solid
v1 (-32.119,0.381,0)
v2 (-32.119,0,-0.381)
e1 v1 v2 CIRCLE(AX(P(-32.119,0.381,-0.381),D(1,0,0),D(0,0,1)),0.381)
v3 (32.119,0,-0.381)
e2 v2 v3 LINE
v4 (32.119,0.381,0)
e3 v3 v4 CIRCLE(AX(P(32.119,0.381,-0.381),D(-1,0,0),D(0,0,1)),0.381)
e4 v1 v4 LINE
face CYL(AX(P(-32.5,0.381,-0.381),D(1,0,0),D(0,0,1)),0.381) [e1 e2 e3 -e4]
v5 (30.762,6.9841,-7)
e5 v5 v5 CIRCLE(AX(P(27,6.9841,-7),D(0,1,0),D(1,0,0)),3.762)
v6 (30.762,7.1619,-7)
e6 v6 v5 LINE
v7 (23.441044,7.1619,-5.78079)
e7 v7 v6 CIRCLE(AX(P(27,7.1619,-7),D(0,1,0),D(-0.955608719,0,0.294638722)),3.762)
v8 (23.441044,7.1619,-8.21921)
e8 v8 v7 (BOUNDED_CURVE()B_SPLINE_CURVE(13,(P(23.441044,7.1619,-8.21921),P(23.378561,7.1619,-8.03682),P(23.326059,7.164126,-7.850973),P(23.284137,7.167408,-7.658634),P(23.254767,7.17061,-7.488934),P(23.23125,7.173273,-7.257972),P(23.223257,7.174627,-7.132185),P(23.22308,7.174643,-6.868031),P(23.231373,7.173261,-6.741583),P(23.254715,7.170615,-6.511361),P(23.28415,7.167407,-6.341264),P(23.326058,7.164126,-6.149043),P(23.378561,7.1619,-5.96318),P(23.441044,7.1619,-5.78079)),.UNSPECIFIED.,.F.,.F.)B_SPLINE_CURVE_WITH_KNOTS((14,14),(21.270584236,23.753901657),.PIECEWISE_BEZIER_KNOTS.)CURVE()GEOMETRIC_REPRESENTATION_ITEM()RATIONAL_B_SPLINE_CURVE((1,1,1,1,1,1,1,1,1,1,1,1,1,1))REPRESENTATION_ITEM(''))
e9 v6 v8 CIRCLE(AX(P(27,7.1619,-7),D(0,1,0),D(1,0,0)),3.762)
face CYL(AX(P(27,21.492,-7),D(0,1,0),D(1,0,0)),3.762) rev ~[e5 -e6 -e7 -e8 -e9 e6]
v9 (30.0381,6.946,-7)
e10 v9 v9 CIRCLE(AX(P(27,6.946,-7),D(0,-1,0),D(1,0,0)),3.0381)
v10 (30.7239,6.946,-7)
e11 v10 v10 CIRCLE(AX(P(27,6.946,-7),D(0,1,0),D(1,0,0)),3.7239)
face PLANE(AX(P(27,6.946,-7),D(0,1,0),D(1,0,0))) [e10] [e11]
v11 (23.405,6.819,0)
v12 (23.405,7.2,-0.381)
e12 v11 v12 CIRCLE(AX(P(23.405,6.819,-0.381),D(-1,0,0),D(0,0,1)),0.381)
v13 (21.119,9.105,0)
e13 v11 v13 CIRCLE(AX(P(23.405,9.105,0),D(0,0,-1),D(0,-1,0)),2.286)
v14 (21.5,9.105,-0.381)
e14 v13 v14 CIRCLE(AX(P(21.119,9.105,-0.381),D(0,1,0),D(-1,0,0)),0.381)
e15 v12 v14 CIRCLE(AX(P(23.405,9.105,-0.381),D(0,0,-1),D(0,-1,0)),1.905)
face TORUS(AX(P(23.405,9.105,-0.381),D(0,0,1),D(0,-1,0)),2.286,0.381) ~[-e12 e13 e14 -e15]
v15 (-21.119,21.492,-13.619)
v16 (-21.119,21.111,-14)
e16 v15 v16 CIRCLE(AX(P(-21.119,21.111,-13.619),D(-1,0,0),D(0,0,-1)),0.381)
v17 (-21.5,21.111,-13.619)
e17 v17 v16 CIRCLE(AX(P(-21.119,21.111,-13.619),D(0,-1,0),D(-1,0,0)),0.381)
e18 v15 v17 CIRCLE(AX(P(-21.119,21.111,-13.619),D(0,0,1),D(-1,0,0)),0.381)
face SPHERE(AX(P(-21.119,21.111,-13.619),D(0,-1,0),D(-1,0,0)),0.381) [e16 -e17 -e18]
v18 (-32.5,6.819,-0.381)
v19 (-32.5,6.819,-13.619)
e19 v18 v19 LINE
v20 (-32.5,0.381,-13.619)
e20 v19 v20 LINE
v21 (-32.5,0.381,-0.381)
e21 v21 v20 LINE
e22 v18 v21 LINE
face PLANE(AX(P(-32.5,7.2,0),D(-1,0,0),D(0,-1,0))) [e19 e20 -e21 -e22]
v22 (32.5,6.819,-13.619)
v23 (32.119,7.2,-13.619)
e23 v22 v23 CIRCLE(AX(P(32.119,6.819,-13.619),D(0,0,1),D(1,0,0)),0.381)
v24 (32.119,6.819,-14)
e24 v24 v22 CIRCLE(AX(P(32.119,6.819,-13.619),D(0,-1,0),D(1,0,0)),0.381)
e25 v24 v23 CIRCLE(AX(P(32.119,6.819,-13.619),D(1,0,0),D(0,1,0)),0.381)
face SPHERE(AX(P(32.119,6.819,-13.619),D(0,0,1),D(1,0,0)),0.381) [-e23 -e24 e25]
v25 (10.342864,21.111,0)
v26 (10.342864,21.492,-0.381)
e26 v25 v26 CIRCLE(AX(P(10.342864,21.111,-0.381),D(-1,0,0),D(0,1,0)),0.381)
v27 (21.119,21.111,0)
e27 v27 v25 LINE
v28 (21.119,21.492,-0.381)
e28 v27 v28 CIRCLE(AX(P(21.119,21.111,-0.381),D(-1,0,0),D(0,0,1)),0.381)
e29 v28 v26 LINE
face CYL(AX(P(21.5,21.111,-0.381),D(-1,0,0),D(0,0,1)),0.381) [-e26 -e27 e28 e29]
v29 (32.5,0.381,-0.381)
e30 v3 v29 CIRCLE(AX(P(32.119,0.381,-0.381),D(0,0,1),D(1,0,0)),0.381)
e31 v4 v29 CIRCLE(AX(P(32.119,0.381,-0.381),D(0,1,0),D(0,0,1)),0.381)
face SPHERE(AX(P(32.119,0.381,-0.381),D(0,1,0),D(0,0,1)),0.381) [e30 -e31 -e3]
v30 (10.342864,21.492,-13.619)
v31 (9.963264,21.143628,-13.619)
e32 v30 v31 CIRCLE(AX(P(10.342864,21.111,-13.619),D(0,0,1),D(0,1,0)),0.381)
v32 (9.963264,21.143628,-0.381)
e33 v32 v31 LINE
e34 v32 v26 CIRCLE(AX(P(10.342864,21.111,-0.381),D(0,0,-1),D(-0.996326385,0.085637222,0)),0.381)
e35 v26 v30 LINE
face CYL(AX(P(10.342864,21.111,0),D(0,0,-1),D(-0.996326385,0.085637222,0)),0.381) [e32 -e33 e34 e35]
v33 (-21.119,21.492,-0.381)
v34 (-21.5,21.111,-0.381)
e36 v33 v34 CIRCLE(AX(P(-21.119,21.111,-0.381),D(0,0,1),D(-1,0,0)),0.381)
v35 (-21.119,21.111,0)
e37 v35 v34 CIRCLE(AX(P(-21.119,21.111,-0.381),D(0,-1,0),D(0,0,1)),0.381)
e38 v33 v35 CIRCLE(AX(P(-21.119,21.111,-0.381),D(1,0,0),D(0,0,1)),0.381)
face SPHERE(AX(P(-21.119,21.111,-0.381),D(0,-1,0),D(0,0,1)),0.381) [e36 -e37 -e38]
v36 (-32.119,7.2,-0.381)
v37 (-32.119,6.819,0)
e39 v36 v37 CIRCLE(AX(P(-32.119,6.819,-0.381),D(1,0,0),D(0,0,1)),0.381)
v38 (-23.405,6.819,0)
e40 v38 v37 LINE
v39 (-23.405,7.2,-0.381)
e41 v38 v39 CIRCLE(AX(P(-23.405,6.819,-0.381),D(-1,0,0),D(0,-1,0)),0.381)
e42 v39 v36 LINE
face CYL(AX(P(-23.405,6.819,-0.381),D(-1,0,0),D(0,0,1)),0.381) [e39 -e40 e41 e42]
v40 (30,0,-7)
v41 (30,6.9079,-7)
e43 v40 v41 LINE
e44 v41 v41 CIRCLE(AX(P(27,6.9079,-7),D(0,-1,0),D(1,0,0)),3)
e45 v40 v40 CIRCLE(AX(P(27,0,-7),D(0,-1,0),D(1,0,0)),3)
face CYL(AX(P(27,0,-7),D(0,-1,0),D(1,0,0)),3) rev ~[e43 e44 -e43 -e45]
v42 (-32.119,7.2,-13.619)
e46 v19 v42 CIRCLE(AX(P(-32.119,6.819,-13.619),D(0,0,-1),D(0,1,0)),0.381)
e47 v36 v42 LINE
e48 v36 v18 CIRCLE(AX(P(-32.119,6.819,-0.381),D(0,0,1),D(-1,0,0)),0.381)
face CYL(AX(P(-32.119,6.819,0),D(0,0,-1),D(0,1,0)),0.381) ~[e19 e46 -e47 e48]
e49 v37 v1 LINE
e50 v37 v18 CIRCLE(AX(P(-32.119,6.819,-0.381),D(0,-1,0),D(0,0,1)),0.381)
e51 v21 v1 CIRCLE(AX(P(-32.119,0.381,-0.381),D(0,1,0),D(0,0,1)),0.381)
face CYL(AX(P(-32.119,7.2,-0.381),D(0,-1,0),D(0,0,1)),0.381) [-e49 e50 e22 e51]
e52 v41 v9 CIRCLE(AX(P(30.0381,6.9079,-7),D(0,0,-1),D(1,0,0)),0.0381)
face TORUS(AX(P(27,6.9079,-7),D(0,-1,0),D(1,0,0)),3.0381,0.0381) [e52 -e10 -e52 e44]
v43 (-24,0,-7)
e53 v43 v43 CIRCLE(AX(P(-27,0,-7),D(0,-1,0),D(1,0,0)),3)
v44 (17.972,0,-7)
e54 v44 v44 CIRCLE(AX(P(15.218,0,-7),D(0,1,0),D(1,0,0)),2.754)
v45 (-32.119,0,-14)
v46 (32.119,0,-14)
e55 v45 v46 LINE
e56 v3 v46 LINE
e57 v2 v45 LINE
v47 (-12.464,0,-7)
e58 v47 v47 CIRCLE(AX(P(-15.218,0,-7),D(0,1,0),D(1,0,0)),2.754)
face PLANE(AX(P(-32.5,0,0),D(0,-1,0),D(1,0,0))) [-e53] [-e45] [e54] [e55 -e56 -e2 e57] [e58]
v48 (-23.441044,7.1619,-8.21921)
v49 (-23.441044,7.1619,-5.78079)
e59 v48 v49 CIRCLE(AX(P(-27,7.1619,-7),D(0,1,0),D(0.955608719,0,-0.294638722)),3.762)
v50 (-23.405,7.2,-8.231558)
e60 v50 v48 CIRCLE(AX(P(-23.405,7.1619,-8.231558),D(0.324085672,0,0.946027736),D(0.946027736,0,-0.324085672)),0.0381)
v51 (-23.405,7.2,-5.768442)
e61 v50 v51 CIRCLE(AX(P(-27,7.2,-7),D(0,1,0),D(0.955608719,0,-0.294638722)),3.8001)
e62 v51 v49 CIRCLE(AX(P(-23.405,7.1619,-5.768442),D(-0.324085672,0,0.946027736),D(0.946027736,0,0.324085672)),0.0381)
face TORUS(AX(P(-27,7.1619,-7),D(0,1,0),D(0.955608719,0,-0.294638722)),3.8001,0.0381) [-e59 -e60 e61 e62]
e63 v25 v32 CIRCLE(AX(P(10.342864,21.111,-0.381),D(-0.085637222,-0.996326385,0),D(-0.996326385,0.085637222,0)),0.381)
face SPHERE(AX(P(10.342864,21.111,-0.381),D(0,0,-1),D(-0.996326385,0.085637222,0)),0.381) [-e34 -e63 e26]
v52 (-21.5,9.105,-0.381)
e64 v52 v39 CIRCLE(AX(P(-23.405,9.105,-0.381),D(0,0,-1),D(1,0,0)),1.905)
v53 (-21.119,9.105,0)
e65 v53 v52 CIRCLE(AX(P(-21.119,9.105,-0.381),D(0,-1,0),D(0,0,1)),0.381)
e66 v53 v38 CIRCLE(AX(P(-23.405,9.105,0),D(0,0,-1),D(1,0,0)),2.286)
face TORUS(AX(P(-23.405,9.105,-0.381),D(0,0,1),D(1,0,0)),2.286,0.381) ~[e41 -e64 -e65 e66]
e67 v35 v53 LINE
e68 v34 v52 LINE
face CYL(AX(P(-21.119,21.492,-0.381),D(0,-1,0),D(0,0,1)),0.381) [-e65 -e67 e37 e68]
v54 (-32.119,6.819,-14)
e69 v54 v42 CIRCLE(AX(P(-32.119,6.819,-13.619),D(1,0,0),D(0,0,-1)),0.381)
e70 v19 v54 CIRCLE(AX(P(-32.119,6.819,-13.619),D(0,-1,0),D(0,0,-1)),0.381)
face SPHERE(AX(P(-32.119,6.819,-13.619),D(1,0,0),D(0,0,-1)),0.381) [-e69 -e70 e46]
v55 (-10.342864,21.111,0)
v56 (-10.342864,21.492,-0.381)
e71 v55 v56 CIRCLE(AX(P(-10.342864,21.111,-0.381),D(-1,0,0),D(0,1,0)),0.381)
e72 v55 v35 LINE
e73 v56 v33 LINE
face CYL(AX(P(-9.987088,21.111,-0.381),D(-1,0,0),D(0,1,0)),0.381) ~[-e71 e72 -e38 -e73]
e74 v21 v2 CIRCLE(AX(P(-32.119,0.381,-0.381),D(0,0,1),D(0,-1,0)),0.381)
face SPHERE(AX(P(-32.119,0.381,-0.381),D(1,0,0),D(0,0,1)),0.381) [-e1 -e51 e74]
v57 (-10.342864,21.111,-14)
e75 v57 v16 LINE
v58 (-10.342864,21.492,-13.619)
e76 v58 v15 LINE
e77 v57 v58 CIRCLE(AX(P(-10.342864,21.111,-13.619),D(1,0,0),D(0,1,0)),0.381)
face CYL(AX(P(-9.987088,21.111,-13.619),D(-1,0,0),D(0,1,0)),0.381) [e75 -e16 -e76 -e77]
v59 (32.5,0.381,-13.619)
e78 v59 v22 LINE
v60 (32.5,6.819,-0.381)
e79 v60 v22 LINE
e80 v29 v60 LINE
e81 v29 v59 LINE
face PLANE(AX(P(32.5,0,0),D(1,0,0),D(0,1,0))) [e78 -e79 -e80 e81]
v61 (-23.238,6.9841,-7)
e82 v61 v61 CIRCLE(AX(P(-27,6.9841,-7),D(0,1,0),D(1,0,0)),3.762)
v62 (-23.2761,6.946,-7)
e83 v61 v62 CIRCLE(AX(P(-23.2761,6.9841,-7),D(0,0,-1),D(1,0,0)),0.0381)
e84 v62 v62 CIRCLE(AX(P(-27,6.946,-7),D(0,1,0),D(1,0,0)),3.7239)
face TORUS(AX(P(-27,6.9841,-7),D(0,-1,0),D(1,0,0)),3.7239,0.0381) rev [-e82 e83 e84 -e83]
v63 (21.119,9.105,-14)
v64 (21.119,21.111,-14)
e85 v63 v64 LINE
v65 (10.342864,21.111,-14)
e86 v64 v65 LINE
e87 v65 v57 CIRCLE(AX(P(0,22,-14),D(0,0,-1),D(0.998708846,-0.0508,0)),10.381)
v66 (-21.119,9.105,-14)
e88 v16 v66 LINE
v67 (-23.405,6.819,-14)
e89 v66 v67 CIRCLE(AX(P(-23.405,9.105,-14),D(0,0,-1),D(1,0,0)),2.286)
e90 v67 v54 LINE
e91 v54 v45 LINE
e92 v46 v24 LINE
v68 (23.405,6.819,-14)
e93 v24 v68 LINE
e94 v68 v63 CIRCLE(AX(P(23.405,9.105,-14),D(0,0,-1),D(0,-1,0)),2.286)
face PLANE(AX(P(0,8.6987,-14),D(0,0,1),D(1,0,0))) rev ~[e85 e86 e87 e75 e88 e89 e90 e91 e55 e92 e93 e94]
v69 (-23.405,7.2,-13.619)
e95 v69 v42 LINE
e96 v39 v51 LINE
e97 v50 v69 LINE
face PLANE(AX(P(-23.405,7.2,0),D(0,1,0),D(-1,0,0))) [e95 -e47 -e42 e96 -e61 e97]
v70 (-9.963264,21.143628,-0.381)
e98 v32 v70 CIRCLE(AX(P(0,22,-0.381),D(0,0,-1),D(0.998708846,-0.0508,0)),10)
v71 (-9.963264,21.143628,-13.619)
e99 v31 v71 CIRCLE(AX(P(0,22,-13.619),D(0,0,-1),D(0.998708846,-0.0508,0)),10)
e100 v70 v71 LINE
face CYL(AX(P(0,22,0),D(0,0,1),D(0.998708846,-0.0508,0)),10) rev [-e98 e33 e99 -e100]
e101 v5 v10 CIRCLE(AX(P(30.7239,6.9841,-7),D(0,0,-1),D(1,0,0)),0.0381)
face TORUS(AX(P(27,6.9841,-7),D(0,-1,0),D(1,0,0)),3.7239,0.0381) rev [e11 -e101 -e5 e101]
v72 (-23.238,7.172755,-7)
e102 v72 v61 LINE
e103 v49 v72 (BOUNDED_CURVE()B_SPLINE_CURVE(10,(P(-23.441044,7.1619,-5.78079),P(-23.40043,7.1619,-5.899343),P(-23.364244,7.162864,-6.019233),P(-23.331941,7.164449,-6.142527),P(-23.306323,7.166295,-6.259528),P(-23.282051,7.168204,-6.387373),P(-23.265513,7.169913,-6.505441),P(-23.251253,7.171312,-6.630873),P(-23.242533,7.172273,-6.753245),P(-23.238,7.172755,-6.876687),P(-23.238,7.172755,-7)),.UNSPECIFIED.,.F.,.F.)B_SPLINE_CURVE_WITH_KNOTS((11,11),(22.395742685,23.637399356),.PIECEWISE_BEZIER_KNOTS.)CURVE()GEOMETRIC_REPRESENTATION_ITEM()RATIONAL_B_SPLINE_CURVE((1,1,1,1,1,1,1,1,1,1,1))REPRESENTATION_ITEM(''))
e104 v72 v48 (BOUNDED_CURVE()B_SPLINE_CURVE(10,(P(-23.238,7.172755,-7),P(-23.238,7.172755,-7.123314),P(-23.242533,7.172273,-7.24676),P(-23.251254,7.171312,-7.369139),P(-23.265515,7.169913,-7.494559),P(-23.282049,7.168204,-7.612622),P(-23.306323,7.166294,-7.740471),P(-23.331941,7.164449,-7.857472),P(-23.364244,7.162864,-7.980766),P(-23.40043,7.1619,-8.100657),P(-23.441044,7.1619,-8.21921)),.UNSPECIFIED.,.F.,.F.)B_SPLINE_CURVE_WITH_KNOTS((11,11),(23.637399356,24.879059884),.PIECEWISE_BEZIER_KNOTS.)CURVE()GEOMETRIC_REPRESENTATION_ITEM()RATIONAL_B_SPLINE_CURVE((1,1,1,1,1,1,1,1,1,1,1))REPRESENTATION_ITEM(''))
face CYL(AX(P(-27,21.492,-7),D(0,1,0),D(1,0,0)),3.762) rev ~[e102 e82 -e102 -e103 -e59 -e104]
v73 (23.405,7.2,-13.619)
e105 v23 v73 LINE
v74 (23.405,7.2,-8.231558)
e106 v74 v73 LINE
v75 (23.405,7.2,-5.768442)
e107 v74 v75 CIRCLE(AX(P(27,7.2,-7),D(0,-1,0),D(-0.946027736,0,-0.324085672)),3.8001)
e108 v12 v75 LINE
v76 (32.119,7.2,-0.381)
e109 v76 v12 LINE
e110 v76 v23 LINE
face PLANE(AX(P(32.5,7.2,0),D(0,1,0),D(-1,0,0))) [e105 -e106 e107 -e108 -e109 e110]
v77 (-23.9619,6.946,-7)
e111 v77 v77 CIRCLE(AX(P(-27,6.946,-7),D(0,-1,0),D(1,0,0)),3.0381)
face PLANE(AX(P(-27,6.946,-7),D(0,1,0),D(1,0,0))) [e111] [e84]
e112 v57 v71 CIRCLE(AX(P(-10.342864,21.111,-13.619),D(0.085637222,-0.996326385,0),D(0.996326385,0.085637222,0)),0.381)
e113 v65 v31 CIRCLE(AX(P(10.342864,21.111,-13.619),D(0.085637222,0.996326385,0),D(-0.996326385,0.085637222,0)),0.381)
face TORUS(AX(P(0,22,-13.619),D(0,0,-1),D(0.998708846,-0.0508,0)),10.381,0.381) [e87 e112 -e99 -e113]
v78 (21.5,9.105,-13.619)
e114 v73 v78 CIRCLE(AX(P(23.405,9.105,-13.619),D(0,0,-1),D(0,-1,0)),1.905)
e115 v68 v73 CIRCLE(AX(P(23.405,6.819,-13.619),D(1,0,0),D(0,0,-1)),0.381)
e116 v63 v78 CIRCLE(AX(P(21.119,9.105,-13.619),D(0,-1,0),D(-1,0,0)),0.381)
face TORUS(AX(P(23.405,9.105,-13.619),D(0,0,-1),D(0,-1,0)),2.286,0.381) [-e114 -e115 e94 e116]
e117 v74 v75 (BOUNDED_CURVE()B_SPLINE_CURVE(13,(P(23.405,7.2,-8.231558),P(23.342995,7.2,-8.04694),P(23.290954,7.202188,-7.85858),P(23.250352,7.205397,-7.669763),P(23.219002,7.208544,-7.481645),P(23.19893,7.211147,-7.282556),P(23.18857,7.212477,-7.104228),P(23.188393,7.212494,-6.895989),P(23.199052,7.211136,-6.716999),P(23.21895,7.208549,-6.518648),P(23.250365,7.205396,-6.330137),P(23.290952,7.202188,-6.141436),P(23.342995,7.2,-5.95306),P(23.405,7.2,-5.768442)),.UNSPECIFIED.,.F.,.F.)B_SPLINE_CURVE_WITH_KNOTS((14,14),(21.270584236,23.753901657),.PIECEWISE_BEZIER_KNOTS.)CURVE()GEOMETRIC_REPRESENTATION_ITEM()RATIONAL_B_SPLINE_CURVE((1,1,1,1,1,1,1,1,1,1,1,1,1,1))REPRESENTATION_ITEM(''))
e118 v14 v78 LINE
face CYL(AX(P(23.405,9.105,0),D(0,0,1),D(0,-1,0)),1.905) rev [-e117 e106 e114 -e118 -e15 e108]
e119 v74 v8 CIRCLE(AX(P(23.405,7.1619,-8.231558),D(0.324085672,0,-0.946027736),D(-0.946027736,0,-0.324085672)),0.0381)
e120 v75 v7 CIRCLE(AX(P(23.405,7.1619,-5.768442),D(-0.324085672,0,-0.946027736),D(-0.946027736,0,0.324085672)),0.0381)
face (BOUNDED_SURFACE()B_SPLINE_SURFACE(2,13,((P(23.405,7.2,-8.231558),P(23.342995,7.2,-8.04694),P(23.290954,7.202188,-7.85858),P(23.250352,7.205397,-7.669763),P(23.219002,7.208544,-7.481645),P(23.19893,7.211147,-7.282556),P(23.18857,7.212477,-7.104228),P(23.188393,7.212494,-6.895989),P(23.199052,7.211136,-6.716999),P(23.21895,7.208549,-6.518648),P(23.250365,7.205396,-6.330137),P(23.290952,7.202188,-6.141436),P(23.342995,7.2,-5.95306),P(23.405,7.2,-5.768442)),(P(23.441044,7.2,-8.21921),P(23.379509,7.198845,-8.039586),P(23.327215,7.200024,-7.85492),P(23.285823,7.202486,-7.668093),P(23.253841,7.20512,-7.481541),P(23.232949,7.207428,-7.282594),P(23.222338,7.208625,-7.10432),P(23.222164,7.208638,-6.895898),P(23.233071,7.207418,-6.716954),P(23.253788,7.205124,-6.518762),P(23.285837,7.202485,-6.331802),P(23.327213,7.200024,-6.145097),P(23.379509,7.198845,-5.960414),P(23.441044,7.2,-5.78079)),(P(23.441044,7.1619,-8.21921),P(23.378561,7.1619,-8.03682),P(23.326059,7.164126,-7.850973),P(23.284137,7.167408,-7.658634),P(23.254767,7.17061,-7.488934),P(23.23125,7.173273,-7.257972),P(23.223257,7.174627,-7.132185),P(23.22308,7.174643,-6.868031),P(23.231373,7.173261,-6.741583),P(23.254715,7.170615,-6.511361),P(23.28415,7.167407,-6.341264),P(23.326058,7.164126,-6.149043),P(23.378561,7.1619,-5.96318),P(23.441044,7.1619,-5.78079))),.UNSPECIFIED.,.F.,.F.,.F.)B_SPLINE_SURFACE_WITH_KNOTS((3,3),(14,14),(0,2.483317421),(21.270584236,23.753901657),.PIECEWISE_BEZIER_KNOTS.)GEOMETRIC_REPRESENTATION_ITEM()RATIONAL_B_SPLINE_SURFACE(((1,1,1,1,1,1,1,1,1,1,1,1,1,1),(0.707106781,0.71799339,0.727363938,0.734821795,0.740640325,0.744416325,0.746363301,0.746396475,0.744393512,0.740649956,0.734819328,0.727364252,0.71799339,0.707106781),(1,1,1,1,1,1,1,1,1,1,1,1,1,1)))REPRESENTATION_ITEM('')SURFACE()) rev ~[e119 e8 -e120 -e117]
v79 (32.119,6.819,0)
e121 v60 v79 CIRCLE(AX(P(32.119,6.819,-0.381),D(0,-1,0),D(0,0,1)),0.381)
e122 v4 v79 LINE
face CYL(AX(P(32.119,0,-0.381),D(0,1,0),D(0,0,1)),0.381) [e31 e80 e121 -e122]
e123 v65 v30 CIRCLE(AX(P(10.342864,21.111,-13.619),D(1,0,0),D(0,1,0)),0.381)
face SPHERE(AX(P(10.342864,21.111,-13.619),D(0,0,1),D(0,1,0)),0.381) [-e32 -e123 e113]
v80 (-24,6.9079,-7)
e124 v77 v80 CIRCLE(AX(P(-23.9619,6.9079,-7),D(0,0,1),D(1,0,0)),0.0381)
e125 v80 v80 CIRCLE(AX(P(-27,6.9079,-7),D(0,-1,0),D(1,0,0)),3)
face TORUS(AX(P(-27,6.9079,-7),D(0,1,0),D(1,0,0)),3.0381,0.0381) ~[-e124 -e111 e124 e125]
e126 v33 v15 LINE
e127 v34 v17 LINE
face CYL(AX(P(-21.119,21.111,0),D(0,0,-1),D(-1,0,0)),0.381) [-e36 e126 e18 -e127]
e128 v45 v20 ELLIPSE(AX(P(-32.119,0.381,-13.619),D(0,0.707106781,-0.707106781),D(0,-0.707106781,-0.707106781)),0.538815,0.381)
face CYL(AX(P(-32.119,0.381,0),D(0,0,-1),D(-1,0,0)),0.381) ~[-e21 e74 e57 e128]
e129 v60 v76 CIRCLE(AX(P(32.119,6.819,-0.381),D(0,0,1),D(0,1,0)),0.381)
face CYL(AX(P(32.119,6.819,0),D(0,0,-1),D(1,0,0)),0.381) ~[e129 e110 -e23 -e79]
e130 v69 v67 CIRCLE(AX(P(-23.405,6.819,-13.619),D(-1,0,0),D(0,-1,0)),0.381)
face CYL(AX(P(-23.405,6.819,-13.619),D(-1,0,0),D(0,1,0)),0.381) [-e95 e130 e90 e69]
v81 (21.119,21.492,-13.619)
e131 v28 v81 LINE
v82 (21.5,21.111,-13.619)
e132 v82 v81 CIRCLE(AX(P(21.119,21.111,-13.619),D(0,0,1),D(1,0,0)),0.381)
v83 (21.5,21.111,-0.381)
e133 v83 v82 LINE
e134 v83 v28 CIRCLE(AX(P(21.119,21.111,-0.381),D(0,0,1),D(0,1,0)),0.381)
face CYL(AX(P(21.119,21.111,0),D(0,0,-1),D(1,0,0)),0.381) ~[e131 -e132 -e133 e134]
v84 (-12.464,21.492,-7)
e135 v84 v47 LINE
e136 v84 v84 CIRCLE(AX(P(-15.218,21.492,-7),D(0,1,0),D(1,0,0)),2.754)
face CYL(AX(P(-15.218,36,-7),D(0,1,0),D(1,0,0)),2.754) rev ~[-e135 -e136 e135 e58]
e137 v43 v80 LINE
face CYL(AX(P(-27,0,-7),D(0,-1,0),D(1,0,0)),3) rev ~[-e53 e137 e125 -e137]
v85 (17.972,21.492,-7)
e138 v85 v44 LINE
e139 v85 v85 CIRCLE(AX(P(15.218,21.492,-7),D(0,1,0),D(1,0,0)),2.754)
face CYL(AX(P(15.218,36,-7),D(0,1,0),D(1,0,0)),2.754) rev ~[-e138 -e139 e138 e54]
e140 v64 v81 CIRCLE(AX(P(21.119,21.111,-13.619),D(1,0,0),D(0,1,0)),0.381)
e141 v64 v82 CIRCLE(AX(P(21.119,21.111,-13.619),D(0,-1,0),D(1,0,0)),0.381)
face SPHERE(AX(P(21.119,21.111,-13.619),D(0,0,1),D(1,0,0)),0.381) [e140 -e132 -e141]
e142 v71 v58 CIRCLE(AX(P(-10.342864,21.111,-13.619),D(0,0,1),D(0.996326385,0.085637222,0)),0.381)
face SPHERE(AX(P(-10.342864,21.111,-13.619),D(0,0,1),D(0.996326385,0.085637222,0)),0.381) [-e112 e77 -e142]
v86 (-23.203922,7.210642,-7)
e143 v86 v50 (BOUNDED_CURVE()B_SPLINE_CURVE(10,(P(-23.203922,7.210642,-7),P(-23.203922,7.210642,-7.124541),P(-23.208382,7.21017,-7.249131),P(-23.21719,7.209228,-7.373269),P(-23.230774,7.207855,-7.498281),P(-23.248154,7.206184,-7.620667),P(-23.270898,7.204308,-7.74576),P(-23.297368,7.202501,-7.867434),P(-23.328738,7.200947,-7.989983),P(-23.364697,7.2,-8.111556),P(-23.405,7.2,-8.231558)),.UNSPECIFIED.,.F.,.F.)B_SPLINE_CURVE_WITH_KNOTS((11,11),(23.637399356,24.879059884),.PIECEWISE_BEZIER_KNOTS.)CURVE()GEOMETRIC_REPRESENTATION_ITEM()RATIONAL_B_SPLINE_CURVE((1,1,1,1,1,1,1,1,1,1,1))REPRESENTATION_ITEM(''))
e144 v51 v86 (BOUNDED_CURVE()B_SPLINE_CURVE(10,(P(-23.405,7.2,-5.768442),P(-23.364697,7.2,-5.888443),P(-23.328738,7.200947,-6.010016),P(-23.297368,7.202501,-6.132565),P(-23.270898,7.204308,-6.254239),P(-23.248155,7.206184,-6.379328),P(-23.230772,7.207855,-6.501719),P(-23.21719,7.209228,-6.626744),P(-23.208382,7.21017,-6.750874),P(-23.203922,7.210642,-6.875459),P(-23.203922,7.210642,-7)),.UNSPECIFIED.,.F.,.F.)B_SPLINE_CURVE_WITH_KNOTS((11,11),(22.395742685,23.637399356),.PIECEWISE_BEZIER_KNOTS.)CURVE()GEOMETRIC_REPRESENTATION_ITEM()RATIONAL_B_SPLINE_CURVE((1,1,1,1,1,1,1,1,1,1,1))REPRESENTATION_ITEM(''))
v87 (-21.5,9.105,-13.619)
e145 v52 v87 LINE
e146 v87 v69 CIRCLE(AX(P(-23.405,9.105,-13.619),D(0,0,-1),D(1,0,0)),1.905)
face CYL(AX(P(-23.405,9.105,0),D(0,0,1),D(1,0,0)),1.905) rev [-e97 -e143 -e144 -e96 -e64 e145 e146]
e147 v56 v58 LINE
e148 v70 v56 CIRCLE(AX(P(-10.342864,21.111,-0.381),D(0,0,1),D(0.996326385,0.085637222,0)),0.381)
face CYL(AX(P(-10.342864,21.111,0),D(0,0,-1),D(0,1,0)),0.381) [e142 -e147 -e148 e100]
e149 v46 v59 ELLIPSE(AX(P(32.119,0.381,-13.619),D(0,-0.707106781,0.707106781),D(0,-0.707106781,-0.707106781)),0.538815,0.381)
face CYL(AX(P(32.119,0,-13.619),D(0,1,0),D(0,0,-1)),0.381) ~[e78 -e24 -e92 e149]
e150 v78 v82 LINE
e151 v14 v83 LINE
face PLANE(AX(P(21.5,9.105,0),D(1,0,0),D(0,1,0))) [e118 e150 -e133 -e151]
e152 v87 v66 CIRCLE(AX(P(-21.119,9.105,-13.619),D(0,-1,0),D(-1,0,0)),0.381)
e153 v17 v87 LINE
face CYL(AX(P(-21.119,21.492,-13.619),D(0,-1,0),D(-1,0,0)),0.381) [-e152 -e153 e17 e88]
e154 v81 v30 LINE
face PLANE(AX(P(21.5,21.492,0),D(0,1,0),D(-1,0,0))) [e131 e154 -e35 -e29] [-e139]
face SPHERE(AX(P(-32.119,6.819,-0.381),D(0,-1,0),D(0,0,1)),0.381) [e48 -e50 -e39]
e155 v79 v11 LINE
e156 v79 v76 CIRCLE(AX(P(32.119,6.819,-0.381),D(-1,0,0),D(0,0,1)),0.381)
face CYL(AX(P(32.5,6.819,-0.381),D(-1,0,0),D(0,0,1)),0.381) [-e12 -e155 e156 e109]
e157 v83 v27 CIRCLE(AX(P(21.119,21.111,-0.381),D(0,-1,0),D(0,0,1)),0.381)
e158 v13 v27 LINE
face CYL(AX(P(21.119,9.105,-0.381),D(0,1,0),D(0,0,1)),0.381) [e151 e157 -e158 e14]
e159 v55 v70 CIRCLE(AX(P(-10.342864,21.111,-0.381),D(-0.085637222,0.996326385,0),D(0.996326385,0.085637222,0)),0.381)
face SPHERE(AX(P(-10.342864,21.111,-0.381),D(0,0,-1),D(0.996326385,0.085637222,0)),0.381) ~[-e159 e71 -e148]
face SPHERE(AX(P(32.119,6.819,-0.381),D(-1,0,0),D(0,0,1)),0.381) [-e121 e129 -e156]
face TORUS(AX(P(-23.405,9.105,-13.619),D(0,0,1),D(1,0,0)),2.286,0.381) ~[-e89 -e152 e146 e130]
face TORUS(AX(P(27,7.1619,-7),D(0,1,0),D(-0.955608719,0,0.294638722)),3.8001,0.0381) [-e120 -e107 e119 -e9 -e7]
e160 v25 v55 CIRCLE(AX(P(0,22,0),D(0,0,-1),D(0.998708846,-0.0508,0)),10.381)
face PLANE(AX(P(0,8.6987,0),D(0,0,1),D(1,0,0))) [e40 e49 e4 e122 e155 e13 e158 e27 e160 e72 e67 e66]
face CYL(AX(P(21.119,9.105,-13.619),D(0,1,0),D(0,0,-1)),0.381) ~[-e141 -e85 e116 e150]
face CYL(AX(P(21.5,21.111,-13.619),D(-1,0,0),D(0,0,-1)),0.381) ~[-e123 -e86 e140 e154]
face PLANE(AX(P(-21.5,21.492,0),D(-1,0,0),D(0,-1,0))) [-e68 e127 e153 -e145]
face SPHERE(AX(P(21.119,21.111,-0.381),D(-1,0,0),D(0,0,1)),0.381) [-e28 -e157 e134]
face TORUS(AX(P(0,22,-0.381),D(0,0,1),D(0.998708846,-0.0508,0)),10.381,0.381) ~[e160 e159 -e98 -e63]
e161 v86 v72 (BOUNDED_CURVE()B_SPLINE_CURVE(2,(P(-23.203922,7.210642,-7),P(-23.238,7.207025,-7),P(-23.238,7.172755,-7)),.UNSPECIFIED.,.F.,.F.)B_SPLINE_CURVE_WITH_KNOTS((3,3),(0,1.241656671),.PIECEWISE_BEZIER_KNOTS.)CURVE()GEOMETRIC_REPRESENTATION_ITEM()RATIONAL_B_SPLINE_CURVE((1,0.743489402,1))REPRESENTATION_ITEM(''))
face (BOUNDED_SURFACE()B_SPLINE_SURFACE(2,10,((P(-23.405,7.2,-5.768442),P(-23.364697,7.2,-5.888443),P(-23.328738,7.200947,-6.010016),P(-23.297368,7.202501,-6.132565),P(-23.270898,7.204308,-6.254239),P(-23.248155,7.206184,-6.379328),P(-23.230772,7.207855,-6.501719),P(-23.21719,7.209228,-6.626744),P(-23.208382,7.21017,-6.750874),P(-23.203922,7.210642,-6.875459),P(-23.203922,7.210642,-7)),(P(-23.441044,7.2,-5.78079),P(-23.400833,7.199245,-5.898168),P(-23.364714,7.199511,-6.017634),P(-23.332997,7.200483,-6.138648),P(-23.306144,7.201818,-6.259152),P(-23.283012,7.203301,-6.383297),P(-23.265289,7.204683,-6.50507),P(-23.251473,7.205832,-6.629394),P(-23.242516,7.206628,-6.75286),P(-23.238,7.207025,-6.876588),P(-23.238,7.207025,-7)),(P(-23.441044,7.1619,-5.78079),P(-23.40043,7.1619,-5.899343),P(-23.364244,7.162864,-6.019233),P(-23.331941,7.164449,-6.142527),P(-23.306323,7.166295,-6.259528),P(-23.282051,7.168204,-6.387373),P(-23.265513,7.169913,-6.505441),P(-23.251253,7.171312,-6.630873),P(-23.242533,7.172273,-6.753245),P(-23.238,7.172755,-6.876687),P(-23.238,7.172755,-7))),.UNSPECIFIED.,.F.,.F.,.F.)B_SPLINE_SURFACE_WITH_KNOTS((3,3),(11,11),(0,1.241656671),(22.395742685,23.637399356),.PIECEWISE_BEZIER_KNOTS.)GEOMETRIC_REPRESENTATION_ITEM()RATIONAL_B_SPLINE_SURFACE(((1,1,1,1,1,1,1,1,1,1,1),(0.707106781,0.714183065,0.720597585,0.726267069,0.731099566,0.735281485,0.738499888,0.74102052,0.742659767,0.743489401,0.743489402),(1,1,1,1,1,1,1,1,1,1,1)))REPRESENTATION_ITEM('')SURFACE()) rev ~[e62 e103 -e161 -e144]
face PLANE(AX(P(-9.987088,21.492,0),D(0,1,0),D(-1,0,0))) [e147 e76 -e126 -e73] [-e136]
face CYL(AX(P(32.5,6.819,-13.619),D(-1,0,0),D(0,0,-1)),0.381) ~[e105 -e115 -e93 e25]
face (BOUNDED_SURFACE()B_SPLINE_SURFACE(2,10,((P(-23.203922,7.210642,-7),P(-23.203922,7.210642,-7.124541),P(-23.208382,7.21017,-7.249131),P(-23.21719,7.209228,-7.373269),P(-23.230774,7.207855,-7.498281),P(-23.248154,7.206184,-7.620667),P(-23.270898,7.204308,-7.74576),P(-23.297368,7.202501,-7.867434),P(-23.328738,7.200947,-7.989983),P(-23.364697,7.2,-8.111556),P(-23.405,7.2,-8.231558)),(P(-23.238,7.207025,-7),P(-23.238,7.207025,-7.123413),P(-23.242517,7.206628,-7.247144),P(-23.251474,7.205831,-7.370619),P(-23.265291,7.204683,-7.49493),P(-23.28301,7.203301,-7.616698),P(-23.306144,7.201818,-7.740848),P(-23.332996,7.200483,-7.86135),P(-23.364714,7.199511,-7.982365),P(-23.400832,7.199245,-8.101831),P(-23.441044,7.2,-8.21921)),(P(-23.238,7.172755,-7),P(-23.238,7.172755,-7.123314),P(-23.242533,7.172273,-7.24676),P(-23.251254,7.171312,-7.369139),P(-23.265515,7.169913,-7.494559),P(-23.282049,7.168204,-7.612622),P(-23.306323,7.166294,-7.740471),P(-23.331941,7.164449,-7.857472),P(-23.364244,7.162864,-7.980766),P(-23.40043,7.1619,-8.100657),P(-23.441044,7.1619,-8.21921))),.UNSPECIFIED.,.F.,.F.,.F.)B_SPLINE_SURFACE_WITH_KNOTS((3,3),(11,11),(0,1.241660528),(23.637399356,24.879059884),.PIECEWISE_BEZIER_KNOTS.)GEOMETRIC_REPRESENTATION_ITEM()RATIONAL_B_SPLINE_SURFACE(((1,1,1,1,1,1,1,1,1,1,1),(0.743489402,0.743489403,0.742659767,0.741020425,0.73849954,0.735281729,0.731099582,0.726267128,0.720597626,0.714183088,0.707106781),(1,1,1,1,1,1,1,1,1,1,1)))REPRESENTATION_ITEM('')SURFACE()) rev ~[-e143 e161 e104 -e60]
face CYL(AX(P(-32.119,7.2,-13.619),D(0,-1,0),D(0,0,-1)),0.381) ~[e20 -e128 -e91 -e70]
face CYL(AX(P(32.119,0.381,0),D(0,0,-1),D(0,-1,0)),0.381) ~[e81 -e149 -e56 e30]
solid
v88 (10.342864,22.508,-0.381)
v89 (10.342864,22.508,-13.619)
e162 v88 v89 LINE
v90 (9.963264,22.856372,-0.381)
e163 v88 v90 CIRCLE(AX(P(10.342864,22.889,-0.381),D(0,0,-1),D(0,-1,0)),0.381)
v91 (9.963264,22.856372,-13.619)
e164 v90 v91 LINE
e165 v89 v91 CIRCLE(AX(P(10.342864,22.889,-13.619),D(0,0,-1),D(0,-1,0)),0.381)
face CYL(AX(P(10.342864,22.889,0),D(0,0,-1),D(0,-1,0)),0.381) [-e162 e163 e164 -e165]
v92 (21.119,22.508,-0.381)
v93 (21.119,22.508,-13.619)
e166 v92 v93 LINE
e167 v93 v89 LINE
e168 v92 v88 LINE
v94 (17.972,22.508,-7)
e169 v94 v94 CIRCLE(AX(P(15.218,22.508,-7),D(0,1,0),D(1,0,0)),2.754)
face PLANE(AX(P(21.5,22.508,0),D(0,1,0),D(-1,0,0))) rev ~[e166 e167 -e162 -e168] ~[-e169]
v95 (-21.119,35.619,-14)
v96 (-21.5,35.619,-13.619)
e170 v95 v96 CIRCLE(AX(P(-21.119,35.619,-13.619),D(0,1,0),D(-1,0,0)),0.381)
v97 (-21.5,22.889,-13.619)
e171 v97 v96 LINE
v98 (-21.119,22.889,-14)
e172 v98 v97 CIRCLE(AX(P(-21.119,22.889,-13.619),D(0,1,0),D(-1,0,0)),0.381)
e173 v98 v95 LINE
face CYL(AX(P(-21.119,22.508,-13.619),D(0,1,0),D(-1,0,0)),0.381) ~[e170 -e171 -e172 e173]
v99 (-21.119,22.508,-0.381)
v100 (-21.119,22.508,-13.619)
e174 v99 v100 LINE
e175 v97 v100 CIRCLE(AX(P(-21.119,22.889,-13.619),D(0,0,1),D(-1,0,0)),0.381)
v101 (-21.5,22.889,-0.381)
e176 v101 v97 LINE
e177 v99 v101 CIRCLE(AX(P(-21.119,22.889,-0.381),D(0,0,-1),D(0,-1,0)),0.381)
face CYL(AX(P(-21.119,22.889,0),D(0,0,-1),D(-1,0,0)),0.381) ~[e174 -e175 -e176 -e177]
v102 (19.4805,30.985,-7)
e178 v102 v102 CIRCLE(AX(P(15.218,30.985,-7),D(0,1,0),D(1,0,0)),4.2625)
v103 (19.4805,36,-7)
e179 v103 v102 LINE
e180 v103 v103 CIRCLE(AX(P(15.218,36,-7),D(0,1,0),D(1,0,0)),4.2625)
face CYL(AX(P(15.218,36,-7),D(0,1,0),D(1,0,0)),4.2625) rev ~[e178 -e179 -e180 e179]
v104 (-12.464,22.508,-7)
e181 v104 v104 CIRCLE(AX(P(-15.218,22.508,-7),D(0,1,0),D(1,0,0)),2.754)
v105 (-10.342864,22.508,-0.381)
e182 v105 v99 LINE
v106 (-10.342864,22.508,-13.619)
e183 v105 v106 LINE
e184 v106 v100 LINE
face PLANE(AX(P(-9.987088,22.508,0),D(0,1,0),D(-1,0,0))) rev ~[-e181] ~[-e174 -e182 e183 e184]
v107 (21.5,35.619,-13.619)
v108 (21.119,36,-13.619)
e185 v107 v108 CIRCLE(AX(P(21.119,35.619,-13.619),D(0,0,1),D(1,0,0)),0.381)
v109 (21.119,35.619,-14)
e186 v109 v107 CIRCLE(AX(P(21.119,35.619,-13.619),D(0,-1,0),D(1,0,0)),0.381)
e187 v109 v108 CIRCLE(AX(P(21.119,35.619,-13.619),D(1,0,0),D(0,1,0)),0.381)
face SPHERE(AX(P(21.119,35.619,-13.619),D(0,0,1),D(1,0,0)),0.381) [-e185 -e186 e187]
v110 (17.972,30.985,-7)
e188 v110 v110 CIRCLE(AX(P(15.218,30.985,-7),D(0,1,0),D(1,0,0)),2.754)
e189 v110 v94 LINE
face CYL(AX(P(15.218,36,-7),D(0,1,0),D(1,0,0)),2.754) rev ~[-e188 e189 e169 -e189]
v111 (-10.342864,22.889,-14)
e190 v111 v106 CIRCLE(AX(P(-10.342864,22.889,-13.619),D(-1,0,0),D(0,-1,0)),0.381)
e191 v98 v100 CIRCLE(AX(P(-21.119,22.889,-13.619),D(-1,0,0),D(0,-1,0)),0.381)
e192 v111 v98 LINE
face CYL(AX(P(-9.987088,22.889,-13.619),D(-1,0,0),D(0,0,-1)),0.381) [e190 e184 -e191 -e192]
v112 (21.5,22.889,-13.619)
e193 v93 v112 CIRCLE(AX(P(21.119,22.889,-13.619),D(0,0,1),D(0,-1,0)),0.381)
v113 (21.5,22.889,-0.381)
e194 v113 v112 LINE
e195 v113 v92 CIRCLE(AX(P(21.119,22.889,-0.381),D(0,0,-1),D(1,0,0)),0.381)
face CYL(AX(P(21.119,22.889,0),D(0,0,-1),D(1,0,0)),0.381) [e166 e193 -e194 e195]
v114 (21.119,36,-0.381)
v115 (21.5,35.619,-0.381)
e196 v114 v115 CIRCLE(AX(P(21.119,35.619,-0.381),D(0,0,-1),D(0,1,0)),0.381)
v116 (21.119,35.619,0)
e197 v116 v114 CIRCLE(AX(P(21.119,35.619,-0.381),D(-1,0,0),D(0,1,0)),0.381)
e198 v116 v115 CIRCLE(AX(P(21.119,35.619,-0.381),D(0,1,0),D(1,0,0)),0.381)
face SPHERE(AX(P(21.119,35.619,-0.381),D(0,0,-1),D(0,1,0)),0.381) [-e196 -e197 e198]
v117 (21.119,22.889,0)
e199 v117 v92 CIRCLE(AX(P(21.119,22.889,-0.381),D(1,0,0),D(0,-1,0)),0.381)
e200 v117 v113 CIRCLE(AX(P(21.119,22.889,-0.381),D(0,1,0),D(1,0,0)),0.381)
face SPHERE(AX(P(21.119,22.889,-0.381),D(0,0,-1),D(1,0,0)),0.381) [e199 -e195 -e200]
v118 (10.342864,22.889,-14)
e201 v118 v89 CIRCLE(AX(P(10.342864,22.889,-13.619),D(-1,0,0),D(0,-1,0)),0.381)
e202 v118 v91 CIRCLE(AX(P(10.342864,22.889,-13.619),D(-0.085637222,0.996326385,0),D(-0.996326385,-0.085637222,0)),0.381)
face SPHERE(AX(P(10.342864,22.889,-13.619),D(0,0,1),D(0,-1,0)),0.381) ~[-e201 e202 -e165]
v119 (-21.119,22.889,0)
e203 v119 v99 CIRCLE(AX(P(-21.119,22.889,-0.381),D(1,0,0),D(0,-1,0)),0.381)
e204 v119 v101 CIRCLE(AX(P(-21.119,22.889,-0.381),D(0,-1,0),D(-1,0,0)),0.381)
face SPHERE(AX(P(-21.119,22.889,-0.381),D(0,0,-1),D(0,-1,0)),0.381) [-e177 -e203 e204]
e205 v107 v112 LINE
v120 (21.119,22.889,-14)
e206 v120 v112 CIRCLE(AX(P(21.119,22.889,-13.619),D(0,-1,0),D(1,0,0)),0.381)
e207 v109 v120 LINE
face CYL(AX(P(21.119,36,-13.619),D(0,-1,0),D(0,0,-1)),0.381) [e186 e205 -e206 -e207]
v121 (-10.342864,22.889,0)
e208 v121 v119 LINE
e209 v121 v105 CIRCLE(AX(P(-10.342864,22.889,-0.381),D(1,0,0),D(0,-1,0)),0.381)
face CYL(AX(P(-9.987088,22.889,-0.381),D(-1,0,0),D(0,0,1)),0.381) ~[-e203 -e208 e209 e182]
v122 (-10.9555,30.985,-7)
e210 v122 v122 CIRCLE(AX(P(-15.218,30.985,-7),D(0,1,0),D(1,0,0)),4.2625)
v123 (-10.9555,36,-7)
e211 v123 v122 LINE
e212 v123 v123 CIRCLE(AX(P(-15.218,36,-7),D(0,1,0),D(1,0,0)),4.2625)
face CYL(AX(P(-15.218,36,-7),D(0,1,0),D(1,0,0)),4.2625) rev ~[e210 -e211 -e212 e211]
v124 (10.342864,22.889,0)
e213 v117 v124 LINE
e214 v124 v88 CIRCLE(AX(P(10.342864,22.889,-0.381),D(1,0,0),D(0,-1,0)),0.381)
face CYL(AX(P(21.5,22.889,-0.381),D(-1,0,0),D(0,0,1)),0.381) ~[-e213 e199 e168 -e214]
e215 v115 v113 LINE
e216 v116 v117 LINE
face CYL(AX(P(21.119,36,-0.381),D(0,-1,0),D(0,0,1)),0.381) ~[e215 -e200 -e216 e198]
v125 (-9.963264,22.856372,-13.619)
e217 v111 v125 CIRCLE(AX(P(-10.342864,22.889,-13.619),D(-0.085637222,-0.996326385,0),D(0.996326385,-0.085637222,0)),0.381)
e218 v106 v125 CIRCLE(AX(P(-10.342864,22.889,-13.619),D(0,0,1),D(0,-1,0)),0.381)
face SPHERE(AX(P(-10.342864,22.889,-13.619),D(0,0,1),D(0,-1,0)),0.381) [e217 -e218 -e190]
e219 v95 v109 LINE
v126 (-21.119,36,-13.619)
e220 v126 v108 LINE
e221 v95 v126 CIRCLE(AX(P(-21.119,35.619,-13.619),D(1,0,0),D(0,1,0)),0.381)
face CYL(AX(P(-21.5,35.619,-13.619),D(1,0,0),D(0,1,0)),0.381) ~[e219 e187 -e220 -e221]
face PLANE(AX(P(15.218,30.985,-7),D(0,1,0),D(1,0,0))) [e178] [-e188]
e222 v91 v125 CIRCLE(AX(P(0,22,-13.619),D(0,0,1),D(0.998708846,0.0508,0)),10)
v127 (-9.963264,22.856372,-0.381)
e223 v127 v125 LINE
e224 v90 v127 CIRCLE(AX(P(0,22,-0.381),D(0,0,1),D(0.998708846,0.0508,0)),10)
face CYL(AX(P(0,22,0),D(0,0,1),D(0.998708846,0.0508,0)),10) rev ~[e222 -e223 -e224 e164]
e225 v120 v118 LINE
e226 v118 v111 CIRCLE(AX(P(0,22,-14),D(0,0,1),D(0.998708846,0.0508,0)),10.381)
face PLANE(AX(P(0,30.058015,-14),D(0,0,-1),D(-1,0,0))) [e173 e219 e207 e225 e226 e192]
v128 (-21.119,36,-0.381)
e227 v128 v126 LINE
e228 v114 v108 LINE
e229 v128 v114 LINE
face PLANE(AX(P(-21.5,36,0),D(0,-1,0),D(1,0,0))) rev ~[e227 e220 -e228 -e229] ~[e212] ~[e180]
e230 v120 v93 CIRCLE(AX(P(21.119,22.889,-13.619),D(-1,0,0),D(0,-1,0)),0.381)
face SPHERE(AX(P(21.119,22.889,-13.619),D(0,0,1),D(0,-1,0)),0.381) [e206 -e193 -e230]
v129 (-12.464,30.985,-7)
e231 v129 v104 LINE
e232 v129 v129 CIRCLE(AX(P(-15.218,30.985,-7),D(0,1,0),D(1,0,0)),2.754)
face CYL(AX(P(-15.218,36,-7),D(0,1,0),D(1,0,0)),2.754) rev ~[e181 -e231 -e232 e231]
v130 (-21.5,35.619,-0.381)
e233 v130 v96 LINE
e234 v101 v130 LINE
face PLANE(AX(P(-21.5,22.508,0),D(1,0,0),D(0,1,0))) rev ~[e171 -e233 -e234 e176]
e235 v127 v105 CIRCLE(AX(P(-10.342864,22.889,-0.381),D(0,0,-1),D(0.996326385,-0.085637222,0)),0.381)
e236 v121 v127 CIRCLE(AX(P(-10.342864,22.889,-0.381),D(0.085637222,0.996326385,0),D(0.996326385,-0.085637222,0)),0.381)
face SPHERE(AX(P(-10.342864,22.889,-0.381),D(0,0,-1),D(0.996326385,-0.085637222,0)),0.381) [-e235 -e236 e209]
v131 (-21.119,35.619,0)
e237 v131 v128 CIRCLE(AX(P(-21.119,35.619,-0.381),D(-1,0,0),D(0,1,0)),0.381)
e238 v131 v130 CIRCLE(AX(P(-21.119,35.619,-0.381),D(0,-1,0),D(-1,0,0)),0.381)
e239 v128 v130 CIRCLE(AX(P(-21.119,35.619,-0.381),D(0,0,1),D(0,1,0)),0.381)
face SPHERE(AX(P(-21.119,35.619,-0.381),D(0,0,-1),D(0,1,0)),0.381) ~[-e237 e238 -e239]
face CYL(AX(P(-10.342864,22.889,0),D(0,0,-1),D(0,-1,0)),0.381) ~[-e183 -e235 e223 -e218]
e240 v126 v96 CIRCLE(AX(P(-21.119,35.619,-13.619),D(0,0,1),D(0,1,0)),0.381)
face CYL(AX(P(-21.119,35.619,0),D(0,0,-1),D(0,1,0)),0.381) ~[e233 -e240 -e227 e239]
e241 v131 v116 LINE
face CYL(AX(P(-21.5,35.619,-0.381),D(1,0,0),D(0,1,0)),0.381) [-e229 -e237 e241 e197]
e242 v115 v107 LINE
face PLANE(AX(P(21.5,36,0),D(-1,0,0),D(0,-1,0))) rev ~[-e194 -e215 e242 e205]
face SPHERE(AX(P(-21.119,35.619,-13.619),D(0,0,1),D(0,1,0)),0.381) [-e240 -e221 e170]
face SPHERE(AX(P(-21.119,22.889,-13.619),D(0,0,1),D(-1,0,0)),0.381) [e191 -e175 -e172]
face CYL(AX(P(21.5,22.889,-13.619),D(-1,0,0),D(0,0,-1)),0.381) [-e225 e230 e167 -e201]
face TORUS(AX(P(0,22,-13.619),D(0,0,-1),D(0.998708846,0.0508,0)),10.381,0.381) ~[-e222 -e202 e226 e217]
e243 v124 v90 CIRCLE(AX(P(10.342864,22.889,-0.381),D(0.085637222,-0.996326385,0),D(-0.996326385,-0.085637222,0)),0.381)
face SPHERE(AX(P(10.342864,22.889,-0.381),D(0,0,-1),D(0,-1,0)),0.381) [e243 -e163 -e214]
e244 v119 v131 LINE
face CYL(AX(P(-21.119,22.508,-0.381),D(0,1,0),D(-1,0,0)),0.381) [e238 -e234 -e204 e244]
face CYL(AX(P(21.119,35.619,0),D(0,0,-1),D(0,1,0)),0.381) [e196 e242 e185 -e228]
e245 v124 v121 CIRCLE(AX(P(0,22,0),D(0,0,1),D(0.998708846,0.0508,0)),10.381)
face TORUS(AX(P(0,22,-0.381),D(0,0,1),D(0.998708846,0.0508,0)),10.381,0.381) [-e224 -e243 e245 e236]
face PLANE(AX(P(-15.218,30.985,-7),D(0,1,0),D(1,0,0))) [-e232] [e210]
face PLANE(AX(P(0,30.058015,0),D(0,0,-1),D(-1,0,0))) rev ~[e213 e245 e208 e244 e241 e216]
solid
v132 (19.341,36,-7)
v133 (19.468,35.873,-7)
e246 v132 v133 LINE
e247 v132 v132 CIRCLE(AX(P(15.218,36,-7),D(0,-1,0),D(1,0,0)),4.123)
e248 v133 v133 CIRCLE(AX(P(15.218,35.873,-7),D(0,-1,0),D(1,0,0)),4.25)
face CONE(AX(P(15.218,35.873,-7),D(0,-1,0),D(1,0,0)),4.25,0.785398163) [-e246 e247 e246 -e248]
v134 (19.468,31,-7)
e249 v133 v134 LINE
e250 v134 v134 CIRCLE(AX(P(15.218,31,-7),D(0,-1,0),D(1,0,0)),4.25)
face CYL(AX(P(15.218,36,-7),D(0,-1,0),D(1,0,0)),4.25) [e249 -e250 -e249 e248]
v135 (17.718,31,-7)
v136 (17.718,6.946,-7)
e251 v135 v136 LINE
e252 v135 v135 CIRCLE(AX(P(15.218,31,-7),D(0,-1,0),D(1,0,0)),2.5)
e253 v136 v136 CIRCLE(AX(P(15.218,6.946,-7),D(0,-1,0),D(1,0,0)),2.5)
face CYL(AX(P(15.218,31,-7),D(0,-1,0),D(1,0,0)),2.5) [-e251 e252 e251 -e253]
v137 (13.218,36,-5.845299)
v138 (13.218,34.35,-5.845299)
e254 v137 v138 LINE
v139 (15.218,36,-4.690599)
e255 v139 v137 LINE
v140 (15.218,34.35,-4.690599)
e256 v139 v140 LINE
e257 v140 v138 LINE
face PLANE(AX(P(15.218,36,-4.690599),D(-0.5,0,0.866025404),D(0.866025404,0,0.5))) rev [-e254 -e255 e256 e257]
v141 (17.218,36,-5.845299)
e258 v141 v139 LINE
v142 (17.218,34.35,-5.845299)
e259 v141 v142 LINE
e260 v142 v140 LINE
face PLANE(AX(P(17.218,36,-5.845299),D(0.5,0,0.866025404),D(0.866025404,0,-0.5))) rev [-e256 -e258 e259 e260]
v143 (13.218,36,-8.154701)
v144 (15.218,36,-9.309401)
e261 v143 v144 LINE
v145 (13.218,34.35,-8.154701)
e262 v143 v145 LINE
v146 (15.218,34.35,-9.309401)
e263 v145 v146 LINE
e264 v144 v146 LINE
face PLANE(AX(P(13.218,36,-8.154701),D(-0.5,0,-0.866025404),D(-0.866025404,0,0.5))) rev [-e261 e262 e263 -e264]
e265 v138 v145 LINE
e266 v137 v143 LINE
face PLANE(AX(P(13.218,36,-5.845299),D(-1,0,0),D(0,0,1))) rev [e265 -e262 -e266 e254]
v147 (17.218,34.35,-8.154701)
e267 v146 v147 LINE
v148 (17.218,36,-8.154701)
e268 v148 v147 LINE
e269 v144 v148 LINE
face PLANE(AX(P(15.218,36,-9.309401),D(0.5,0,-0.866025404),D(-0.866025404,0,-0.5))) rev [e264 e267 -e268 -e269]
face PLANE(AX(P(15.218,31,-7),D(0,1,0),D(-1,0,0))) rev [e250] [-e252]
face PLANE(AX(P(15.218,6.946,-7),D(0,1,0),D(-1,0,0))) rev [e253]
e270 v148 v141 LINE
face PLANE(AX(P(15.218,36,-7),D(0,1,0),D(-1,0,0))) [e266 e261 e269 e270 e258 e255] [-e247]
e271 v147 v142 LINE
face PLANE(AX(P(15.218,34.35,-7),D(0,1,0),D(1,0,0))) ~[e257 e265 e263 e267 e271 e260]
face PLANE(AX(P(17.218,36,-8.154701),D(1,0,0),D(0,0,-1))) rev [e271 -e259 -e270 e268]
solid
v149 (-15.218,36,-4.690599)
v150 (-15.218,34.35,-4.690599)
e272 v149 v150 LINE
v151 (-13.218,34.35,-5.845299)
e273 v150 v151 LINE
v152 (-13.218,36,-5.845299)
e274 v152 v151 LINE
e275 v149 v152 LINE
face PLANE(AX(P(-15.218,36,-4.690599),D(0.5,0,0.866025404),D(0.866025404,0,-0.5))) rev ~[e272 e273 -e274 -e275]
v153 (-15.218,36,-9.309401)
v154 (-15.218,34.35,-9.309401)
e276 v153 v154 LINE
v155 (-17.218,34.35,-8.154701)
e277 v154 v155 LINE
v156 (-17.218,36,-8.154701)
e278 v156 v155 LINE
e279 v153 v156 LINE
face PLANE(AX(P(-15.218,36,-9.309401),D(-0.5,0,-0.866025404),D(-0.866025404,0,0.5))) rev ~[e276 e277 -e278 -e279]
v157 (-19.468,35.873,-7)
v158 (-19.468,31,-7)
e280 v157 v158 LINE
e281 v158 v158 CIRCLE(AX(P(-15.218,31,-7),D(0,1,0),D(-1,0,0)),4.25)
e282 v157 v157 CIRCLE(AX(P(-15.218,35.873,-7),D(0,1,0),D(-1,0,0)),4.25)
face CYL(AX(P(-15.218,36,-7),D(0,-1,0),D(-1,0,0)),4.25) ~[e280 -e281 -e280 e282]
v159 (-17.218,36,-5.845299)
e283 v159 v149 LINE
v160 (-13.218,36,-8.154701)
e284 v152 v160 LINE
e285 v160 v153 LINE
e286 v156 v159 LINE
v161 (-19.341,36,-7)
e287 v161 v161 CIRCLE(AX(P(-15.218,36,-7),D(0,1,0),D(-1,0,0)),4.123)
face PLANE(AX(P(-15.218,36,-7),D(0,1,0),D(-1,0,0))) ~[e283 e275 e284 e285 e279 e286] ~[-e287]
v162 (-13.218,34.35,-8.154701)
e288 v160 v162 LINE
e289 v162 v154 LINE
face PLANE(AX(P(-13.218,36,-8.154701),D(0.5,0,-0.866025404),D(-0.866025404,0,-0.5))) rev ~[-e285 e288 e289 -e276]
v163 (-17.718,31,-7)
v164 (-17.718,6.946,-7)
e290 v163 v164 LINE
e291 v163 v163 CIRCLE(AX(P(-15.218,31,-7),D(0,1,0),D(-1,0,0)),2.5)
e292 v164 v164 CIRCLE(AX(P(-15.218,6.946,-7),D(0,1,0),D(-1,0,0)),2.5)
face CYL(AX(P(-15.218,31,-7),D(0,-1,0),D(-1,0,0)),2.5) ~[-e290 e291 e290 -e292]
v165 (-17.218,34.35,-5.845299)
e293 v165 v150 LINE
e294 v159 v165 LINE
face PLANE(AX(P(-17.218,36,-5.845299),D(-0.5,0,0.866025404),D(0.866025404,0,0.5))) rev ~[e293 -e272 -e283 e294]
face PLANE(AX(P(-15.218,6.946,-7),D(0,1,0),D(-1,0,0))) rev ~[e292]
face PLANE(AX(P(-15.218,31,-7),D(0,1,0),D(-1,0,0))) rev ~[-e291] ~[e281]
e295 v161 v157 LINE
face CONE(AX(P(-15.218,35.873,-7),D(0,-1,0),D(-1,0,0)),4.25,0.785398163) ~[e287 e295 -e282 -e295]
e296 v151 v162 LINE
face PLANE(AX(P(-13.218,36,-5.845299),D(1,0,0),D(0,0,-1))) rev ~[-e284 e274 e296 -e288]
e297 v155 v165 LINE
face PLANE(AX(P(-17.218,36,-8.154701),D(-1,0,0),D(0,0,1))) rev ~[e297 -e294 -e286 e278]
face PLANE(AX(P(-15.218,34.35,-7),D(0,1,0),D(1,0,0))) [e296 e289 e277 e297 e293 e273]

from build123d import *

# Parameters (mm, degrees)
BOSS_EXTRUDE1_DEPTH   = 14
BOSS_EXTRUDE1_2_DEPTH = 14
SKETCH4_R             = 3
CUT_EXTRUDE1_DEPTH    = 37
SKETCH8_R             = 3.762
CUT_EXTRUDE3_DEPTH    = 14.546
SKETCH10_R            = 2.754
CUT_EXTRUDE4_DEPTH    = 37
SKETCH12_R            = 4.2625
CUT_EXTRUDE5_DEPTH    = 5.015
CHAMFER1_SIZE         = 0.127
CUT_EXTRUDE6_DEPTH    = 1.65
FILLET1_R             = 0.381
FILLET2_R             = 0.381
FILLET3_R             = 0.0381


with BuildPart() as part:
    # Sketch3 → Boss-Extrude1 (new body)
    with BuildSketch(Plane.XY):
        with BuildLine():
            Line((-21.5, 36), (21.5, 36))
            Line((21.5, 36), (21.5, 22.508))
            Line((21.5, 22.508), (9.987088465, 22.508))
            ThreePointArc((9.987088465, 22.508), (0, 32), (-9.987088465, 22.508))
            Line((-9.987088465, 22.508), (-21.5, 22.508))
            Line((-21.5, 22.508), (-21.5, 36))
        make_face()
    extrude(amount=-BOSS_EXTRUDE1_DEPTH)


with BuildPart() as body_2:
    # Sketch3 → Boss-Extrude1 2 (new body)
    with BuildSketch(Plane.XY):
        with BuildLine():
            Line((-21.5, 21.492), (-21.5, 9.105))
            ThreePointArc((-21.5, 9.105), (-22.057961582, 7.757961582), (-23.405, 7.2))
            Line((-23.405, 7.2), (-32.5, 7.2))
            Line((-32.5, 7.2), (-32.5, 0))
            Line((-32.5, 0), (32.5, 0))
            Line((32.5, 0), (32.5, 7.2))
            Line((32.5, 7.2), (23.405, 7.2))
            ThreePointArc((23.405, 7.2), (22.057961582, 7.757961582), (21.5, 9.105))
            Line((21.5, 9.105), (21.5, 21.492))
            Line((21.5, 21.492), (9.987088465, 21.492))
            ThreePointArc((9.987088465, 21.492), (0, 12), (-9.987088465, 21.492))
            Line((-9.987088465, 21.492), (-21.5, 21.492))
        make_face()
    extrude(amount=-BOSS_EXTRUDE1_2_DEPTH)

    # Sketch4 → Cut-Extrude1 (cut, through all)
    with BuildSketch(Plane.XZ):
        with Locations((-27, -7)):
            Circle(SKETCH4_R)
        with Locations((27, -7)):
            Circle(SKETCH4_R)
    extrude(amount=-CUT_EXTRUDE1_DEPTH, mode=Mode.SUBTRACT)

    # Sketch8 → Cut-Extrude3 (cut)
    with BuildSketch(Plane(origin=(0, 21.492, 0), x_dir=(1, 0, 0), z_dir=(0, 1, 0))):
        with Locations((-27, 7)):
            Circle(SKETCH8_R)
        with Locations((27, 7)):
            Circle(SKETCH8_R)
    extrude(amount=-CUT_EXTRUDE3_DEPTH, mode=Mode.SUBTRACT)


with BuildPart() as cut_extrude4_tool:
    # Sketch10 → Cut-Extrude4 (new body, through all)
    with BuildSketch(Plane(origin=(0, 36, 0), x_dir=(1, 0, 0), z_dir=(0, 1, 0))):
        with Locations((15.218, 7)):
            Circle(SKETCH10_R)
        with Locations((-15.218, 7)):
            Circle(SKETCH10_R)
    extrude(amount=-CUT_EXTRUDE4_DEPTH)


with BuildPart() as part_1:
    add(part.part)

    # Cut-Extrude4: cut by cut_extrude4_tool
    add(cut_extrude4_tool.part, mode=Mode.SUBTRACT)

    # Sketch12 → Cut-Extrude5 (cut)
    with BuildSketch(Plane(origin=(0, 36, 0), x_dir=(1, 0, 0), z_dir=(0, 1, 0))):
        with Locations((15.218, 7)):
            Circle(SKETCH12_R)
        with Locations((-15.218, 7)):
            Circle(SKETCH12_R)
    extrude(amount=-CUT_EXTRUDE5_DEPTH, mode=Mode.SUBTRACT)

    # Fillet1
    fillet1_edges = [part_1.edges().sort_by_distance(p)[0] for p in [
        (0, 32, -14),
        (-21.5, 36, -7),
        (21.5, 36, -7),
        (21.5, 22.508, -7),
        (9.987088465, 22.508, -7),
        (-9.987088465, 22.508, -7),
        (-21.5, 22.508, -7),
        (15.743544232, 22.508, -14),
        (21.5, 29.254, -14),
        (0, 36, -14),
        (-21.5, 29.254, -14),
        (0, 36, 0),
        (21.5, 29.254, 0),
        (15.743544232, 22.508, 0),
        (-15.743544232, 22.508, -14),
        (0, 32, 0),
        (-15.743544232, 22.508, 0),
        (-21.5, 29.254, 0),
    ]]
    fillet(fillet1_edges, radius=FILLET1_R)


with BuildPart() as body_2_1:
    add(body_2.part)

    # Cut-Extrude4: cut by cut_extrude4_tool
    add(cut_extrude4_tool.part, mode=Mode.SUBTRACT)

    # Fillet2
    fillet2_edges = [body_2_1.edges().sort_by_distance(p)[0] for p in [
        (-22.057961582, 7.757961582, -14),
        (0, 12, 0),
        (15.743544232, 21.492, 0),
        (21.5, 15.2985, 0),
        (22.057961582, 7.757961582, 0),
        (27.9525, 7.2, 0),
        (32.5, 3.6, 0),
        (-27.9525, 7.2, -14),
        (0, 0, 0),
        (-32.5, 3.6, 0),
        (-27.9525, 7.2, 0),
        (-22.057961582, 7.757961582, 0),
        (-21.5, 15.2985, 0),
        (-15.743544232, 21.492, 0),
        (-32.5, 3.6, -14),
        (-9.987088465, 21.492, -7),
        (9.987088465, 21.492, -7),
        (21.5, 21.492, -7),
        (32.5, 7.2, -7),
        (32.5, 0, -7),
        (-32.5, 0, -7),
        (-32.5, 7.2, -7),
        (-21.5, 21.492, -7),
        (32.5, 3.6, -14),
        (27.9525, 7.2, -14),
        (22.057961582, 7.757961582, -14),
        (21.5, 15.2985, -14),
        (15.743544232, 21.492, -14),
        (0, 12, -14),
        (-15.743544232, 21.492, -14),
        (-21.5, 15.2985, -14),
    ]]
    fillet(fillet2_edges, radius=FILLET2_R)

    # Fillet3
    fillet3_edges = [body_2_1.edges().sort_by_distance(p)[0] for p in [
        (-23.279984701, 7.20410648, -7.56047317),
        (-30.762, 7.2, -7),
        (-30.762, 6.946, -7),
        (-30, 6.946, -7),
        (27.560470338, 7.2, -3.279984274),
        (23.238, 7.207334065, -7),
        (24, 6.946, -7),
        (23.238, 6.946, -7),
    ]]
    fillet(fillet3_edges, radius=FILLET3_R)


with BuildPart() as body_3:
    # Sketch15 → Revolve1 (revolve)
    with BuildSketch(Plane.XY.offset(-7)):
        Polygon((-15.218, 6.946), (-15.218, 36), (-19.468, 36), (-19.468, 31), (-17.718, 31), (-17.718, 6.946), align=None)
    revolve(axis=Axis((-15.218, 6.946, -7), (0, 1, 0)))

    # Chamfer1
    chamfer1_edges = [body_3.edges().sort_by_distance(p)[0] for p in [
        (-10.968, 36, -7),
    ]]
    chamfer(chamfer1_edges, length=CHAMFER1_SIZE)

    # Sketch16 → Cut-Extrude6 (cut)
    with BuildSketch(Plane(origin=(0, 36, 0), x_dir=(1, 0, 0), z_dir=(0, 1, 0))):
        Polygon((-15.218, 9.309401077), (-17.218, 8.154700538), (-17.218, 5.845299462), (-15.218, 4.690598923), (-13.218, 5.845299462), (-13.218, 8.154700538), align=None)
    extrude(amount=-CUT_EXTRUDE6_DEPTH, mode=Mode.SUBTRACT)


with BuildPart() as body_4:
    # Mirror1: mirrored copy
    add(body_3.part.mirror(Plane(origin=(0, 0, 0), x_dir=(0, 0, 1), z_dir=(1, 0, 0))))


solid = Compound([part_1.part, body_2_1.part, body_3.part, body_4.part])
